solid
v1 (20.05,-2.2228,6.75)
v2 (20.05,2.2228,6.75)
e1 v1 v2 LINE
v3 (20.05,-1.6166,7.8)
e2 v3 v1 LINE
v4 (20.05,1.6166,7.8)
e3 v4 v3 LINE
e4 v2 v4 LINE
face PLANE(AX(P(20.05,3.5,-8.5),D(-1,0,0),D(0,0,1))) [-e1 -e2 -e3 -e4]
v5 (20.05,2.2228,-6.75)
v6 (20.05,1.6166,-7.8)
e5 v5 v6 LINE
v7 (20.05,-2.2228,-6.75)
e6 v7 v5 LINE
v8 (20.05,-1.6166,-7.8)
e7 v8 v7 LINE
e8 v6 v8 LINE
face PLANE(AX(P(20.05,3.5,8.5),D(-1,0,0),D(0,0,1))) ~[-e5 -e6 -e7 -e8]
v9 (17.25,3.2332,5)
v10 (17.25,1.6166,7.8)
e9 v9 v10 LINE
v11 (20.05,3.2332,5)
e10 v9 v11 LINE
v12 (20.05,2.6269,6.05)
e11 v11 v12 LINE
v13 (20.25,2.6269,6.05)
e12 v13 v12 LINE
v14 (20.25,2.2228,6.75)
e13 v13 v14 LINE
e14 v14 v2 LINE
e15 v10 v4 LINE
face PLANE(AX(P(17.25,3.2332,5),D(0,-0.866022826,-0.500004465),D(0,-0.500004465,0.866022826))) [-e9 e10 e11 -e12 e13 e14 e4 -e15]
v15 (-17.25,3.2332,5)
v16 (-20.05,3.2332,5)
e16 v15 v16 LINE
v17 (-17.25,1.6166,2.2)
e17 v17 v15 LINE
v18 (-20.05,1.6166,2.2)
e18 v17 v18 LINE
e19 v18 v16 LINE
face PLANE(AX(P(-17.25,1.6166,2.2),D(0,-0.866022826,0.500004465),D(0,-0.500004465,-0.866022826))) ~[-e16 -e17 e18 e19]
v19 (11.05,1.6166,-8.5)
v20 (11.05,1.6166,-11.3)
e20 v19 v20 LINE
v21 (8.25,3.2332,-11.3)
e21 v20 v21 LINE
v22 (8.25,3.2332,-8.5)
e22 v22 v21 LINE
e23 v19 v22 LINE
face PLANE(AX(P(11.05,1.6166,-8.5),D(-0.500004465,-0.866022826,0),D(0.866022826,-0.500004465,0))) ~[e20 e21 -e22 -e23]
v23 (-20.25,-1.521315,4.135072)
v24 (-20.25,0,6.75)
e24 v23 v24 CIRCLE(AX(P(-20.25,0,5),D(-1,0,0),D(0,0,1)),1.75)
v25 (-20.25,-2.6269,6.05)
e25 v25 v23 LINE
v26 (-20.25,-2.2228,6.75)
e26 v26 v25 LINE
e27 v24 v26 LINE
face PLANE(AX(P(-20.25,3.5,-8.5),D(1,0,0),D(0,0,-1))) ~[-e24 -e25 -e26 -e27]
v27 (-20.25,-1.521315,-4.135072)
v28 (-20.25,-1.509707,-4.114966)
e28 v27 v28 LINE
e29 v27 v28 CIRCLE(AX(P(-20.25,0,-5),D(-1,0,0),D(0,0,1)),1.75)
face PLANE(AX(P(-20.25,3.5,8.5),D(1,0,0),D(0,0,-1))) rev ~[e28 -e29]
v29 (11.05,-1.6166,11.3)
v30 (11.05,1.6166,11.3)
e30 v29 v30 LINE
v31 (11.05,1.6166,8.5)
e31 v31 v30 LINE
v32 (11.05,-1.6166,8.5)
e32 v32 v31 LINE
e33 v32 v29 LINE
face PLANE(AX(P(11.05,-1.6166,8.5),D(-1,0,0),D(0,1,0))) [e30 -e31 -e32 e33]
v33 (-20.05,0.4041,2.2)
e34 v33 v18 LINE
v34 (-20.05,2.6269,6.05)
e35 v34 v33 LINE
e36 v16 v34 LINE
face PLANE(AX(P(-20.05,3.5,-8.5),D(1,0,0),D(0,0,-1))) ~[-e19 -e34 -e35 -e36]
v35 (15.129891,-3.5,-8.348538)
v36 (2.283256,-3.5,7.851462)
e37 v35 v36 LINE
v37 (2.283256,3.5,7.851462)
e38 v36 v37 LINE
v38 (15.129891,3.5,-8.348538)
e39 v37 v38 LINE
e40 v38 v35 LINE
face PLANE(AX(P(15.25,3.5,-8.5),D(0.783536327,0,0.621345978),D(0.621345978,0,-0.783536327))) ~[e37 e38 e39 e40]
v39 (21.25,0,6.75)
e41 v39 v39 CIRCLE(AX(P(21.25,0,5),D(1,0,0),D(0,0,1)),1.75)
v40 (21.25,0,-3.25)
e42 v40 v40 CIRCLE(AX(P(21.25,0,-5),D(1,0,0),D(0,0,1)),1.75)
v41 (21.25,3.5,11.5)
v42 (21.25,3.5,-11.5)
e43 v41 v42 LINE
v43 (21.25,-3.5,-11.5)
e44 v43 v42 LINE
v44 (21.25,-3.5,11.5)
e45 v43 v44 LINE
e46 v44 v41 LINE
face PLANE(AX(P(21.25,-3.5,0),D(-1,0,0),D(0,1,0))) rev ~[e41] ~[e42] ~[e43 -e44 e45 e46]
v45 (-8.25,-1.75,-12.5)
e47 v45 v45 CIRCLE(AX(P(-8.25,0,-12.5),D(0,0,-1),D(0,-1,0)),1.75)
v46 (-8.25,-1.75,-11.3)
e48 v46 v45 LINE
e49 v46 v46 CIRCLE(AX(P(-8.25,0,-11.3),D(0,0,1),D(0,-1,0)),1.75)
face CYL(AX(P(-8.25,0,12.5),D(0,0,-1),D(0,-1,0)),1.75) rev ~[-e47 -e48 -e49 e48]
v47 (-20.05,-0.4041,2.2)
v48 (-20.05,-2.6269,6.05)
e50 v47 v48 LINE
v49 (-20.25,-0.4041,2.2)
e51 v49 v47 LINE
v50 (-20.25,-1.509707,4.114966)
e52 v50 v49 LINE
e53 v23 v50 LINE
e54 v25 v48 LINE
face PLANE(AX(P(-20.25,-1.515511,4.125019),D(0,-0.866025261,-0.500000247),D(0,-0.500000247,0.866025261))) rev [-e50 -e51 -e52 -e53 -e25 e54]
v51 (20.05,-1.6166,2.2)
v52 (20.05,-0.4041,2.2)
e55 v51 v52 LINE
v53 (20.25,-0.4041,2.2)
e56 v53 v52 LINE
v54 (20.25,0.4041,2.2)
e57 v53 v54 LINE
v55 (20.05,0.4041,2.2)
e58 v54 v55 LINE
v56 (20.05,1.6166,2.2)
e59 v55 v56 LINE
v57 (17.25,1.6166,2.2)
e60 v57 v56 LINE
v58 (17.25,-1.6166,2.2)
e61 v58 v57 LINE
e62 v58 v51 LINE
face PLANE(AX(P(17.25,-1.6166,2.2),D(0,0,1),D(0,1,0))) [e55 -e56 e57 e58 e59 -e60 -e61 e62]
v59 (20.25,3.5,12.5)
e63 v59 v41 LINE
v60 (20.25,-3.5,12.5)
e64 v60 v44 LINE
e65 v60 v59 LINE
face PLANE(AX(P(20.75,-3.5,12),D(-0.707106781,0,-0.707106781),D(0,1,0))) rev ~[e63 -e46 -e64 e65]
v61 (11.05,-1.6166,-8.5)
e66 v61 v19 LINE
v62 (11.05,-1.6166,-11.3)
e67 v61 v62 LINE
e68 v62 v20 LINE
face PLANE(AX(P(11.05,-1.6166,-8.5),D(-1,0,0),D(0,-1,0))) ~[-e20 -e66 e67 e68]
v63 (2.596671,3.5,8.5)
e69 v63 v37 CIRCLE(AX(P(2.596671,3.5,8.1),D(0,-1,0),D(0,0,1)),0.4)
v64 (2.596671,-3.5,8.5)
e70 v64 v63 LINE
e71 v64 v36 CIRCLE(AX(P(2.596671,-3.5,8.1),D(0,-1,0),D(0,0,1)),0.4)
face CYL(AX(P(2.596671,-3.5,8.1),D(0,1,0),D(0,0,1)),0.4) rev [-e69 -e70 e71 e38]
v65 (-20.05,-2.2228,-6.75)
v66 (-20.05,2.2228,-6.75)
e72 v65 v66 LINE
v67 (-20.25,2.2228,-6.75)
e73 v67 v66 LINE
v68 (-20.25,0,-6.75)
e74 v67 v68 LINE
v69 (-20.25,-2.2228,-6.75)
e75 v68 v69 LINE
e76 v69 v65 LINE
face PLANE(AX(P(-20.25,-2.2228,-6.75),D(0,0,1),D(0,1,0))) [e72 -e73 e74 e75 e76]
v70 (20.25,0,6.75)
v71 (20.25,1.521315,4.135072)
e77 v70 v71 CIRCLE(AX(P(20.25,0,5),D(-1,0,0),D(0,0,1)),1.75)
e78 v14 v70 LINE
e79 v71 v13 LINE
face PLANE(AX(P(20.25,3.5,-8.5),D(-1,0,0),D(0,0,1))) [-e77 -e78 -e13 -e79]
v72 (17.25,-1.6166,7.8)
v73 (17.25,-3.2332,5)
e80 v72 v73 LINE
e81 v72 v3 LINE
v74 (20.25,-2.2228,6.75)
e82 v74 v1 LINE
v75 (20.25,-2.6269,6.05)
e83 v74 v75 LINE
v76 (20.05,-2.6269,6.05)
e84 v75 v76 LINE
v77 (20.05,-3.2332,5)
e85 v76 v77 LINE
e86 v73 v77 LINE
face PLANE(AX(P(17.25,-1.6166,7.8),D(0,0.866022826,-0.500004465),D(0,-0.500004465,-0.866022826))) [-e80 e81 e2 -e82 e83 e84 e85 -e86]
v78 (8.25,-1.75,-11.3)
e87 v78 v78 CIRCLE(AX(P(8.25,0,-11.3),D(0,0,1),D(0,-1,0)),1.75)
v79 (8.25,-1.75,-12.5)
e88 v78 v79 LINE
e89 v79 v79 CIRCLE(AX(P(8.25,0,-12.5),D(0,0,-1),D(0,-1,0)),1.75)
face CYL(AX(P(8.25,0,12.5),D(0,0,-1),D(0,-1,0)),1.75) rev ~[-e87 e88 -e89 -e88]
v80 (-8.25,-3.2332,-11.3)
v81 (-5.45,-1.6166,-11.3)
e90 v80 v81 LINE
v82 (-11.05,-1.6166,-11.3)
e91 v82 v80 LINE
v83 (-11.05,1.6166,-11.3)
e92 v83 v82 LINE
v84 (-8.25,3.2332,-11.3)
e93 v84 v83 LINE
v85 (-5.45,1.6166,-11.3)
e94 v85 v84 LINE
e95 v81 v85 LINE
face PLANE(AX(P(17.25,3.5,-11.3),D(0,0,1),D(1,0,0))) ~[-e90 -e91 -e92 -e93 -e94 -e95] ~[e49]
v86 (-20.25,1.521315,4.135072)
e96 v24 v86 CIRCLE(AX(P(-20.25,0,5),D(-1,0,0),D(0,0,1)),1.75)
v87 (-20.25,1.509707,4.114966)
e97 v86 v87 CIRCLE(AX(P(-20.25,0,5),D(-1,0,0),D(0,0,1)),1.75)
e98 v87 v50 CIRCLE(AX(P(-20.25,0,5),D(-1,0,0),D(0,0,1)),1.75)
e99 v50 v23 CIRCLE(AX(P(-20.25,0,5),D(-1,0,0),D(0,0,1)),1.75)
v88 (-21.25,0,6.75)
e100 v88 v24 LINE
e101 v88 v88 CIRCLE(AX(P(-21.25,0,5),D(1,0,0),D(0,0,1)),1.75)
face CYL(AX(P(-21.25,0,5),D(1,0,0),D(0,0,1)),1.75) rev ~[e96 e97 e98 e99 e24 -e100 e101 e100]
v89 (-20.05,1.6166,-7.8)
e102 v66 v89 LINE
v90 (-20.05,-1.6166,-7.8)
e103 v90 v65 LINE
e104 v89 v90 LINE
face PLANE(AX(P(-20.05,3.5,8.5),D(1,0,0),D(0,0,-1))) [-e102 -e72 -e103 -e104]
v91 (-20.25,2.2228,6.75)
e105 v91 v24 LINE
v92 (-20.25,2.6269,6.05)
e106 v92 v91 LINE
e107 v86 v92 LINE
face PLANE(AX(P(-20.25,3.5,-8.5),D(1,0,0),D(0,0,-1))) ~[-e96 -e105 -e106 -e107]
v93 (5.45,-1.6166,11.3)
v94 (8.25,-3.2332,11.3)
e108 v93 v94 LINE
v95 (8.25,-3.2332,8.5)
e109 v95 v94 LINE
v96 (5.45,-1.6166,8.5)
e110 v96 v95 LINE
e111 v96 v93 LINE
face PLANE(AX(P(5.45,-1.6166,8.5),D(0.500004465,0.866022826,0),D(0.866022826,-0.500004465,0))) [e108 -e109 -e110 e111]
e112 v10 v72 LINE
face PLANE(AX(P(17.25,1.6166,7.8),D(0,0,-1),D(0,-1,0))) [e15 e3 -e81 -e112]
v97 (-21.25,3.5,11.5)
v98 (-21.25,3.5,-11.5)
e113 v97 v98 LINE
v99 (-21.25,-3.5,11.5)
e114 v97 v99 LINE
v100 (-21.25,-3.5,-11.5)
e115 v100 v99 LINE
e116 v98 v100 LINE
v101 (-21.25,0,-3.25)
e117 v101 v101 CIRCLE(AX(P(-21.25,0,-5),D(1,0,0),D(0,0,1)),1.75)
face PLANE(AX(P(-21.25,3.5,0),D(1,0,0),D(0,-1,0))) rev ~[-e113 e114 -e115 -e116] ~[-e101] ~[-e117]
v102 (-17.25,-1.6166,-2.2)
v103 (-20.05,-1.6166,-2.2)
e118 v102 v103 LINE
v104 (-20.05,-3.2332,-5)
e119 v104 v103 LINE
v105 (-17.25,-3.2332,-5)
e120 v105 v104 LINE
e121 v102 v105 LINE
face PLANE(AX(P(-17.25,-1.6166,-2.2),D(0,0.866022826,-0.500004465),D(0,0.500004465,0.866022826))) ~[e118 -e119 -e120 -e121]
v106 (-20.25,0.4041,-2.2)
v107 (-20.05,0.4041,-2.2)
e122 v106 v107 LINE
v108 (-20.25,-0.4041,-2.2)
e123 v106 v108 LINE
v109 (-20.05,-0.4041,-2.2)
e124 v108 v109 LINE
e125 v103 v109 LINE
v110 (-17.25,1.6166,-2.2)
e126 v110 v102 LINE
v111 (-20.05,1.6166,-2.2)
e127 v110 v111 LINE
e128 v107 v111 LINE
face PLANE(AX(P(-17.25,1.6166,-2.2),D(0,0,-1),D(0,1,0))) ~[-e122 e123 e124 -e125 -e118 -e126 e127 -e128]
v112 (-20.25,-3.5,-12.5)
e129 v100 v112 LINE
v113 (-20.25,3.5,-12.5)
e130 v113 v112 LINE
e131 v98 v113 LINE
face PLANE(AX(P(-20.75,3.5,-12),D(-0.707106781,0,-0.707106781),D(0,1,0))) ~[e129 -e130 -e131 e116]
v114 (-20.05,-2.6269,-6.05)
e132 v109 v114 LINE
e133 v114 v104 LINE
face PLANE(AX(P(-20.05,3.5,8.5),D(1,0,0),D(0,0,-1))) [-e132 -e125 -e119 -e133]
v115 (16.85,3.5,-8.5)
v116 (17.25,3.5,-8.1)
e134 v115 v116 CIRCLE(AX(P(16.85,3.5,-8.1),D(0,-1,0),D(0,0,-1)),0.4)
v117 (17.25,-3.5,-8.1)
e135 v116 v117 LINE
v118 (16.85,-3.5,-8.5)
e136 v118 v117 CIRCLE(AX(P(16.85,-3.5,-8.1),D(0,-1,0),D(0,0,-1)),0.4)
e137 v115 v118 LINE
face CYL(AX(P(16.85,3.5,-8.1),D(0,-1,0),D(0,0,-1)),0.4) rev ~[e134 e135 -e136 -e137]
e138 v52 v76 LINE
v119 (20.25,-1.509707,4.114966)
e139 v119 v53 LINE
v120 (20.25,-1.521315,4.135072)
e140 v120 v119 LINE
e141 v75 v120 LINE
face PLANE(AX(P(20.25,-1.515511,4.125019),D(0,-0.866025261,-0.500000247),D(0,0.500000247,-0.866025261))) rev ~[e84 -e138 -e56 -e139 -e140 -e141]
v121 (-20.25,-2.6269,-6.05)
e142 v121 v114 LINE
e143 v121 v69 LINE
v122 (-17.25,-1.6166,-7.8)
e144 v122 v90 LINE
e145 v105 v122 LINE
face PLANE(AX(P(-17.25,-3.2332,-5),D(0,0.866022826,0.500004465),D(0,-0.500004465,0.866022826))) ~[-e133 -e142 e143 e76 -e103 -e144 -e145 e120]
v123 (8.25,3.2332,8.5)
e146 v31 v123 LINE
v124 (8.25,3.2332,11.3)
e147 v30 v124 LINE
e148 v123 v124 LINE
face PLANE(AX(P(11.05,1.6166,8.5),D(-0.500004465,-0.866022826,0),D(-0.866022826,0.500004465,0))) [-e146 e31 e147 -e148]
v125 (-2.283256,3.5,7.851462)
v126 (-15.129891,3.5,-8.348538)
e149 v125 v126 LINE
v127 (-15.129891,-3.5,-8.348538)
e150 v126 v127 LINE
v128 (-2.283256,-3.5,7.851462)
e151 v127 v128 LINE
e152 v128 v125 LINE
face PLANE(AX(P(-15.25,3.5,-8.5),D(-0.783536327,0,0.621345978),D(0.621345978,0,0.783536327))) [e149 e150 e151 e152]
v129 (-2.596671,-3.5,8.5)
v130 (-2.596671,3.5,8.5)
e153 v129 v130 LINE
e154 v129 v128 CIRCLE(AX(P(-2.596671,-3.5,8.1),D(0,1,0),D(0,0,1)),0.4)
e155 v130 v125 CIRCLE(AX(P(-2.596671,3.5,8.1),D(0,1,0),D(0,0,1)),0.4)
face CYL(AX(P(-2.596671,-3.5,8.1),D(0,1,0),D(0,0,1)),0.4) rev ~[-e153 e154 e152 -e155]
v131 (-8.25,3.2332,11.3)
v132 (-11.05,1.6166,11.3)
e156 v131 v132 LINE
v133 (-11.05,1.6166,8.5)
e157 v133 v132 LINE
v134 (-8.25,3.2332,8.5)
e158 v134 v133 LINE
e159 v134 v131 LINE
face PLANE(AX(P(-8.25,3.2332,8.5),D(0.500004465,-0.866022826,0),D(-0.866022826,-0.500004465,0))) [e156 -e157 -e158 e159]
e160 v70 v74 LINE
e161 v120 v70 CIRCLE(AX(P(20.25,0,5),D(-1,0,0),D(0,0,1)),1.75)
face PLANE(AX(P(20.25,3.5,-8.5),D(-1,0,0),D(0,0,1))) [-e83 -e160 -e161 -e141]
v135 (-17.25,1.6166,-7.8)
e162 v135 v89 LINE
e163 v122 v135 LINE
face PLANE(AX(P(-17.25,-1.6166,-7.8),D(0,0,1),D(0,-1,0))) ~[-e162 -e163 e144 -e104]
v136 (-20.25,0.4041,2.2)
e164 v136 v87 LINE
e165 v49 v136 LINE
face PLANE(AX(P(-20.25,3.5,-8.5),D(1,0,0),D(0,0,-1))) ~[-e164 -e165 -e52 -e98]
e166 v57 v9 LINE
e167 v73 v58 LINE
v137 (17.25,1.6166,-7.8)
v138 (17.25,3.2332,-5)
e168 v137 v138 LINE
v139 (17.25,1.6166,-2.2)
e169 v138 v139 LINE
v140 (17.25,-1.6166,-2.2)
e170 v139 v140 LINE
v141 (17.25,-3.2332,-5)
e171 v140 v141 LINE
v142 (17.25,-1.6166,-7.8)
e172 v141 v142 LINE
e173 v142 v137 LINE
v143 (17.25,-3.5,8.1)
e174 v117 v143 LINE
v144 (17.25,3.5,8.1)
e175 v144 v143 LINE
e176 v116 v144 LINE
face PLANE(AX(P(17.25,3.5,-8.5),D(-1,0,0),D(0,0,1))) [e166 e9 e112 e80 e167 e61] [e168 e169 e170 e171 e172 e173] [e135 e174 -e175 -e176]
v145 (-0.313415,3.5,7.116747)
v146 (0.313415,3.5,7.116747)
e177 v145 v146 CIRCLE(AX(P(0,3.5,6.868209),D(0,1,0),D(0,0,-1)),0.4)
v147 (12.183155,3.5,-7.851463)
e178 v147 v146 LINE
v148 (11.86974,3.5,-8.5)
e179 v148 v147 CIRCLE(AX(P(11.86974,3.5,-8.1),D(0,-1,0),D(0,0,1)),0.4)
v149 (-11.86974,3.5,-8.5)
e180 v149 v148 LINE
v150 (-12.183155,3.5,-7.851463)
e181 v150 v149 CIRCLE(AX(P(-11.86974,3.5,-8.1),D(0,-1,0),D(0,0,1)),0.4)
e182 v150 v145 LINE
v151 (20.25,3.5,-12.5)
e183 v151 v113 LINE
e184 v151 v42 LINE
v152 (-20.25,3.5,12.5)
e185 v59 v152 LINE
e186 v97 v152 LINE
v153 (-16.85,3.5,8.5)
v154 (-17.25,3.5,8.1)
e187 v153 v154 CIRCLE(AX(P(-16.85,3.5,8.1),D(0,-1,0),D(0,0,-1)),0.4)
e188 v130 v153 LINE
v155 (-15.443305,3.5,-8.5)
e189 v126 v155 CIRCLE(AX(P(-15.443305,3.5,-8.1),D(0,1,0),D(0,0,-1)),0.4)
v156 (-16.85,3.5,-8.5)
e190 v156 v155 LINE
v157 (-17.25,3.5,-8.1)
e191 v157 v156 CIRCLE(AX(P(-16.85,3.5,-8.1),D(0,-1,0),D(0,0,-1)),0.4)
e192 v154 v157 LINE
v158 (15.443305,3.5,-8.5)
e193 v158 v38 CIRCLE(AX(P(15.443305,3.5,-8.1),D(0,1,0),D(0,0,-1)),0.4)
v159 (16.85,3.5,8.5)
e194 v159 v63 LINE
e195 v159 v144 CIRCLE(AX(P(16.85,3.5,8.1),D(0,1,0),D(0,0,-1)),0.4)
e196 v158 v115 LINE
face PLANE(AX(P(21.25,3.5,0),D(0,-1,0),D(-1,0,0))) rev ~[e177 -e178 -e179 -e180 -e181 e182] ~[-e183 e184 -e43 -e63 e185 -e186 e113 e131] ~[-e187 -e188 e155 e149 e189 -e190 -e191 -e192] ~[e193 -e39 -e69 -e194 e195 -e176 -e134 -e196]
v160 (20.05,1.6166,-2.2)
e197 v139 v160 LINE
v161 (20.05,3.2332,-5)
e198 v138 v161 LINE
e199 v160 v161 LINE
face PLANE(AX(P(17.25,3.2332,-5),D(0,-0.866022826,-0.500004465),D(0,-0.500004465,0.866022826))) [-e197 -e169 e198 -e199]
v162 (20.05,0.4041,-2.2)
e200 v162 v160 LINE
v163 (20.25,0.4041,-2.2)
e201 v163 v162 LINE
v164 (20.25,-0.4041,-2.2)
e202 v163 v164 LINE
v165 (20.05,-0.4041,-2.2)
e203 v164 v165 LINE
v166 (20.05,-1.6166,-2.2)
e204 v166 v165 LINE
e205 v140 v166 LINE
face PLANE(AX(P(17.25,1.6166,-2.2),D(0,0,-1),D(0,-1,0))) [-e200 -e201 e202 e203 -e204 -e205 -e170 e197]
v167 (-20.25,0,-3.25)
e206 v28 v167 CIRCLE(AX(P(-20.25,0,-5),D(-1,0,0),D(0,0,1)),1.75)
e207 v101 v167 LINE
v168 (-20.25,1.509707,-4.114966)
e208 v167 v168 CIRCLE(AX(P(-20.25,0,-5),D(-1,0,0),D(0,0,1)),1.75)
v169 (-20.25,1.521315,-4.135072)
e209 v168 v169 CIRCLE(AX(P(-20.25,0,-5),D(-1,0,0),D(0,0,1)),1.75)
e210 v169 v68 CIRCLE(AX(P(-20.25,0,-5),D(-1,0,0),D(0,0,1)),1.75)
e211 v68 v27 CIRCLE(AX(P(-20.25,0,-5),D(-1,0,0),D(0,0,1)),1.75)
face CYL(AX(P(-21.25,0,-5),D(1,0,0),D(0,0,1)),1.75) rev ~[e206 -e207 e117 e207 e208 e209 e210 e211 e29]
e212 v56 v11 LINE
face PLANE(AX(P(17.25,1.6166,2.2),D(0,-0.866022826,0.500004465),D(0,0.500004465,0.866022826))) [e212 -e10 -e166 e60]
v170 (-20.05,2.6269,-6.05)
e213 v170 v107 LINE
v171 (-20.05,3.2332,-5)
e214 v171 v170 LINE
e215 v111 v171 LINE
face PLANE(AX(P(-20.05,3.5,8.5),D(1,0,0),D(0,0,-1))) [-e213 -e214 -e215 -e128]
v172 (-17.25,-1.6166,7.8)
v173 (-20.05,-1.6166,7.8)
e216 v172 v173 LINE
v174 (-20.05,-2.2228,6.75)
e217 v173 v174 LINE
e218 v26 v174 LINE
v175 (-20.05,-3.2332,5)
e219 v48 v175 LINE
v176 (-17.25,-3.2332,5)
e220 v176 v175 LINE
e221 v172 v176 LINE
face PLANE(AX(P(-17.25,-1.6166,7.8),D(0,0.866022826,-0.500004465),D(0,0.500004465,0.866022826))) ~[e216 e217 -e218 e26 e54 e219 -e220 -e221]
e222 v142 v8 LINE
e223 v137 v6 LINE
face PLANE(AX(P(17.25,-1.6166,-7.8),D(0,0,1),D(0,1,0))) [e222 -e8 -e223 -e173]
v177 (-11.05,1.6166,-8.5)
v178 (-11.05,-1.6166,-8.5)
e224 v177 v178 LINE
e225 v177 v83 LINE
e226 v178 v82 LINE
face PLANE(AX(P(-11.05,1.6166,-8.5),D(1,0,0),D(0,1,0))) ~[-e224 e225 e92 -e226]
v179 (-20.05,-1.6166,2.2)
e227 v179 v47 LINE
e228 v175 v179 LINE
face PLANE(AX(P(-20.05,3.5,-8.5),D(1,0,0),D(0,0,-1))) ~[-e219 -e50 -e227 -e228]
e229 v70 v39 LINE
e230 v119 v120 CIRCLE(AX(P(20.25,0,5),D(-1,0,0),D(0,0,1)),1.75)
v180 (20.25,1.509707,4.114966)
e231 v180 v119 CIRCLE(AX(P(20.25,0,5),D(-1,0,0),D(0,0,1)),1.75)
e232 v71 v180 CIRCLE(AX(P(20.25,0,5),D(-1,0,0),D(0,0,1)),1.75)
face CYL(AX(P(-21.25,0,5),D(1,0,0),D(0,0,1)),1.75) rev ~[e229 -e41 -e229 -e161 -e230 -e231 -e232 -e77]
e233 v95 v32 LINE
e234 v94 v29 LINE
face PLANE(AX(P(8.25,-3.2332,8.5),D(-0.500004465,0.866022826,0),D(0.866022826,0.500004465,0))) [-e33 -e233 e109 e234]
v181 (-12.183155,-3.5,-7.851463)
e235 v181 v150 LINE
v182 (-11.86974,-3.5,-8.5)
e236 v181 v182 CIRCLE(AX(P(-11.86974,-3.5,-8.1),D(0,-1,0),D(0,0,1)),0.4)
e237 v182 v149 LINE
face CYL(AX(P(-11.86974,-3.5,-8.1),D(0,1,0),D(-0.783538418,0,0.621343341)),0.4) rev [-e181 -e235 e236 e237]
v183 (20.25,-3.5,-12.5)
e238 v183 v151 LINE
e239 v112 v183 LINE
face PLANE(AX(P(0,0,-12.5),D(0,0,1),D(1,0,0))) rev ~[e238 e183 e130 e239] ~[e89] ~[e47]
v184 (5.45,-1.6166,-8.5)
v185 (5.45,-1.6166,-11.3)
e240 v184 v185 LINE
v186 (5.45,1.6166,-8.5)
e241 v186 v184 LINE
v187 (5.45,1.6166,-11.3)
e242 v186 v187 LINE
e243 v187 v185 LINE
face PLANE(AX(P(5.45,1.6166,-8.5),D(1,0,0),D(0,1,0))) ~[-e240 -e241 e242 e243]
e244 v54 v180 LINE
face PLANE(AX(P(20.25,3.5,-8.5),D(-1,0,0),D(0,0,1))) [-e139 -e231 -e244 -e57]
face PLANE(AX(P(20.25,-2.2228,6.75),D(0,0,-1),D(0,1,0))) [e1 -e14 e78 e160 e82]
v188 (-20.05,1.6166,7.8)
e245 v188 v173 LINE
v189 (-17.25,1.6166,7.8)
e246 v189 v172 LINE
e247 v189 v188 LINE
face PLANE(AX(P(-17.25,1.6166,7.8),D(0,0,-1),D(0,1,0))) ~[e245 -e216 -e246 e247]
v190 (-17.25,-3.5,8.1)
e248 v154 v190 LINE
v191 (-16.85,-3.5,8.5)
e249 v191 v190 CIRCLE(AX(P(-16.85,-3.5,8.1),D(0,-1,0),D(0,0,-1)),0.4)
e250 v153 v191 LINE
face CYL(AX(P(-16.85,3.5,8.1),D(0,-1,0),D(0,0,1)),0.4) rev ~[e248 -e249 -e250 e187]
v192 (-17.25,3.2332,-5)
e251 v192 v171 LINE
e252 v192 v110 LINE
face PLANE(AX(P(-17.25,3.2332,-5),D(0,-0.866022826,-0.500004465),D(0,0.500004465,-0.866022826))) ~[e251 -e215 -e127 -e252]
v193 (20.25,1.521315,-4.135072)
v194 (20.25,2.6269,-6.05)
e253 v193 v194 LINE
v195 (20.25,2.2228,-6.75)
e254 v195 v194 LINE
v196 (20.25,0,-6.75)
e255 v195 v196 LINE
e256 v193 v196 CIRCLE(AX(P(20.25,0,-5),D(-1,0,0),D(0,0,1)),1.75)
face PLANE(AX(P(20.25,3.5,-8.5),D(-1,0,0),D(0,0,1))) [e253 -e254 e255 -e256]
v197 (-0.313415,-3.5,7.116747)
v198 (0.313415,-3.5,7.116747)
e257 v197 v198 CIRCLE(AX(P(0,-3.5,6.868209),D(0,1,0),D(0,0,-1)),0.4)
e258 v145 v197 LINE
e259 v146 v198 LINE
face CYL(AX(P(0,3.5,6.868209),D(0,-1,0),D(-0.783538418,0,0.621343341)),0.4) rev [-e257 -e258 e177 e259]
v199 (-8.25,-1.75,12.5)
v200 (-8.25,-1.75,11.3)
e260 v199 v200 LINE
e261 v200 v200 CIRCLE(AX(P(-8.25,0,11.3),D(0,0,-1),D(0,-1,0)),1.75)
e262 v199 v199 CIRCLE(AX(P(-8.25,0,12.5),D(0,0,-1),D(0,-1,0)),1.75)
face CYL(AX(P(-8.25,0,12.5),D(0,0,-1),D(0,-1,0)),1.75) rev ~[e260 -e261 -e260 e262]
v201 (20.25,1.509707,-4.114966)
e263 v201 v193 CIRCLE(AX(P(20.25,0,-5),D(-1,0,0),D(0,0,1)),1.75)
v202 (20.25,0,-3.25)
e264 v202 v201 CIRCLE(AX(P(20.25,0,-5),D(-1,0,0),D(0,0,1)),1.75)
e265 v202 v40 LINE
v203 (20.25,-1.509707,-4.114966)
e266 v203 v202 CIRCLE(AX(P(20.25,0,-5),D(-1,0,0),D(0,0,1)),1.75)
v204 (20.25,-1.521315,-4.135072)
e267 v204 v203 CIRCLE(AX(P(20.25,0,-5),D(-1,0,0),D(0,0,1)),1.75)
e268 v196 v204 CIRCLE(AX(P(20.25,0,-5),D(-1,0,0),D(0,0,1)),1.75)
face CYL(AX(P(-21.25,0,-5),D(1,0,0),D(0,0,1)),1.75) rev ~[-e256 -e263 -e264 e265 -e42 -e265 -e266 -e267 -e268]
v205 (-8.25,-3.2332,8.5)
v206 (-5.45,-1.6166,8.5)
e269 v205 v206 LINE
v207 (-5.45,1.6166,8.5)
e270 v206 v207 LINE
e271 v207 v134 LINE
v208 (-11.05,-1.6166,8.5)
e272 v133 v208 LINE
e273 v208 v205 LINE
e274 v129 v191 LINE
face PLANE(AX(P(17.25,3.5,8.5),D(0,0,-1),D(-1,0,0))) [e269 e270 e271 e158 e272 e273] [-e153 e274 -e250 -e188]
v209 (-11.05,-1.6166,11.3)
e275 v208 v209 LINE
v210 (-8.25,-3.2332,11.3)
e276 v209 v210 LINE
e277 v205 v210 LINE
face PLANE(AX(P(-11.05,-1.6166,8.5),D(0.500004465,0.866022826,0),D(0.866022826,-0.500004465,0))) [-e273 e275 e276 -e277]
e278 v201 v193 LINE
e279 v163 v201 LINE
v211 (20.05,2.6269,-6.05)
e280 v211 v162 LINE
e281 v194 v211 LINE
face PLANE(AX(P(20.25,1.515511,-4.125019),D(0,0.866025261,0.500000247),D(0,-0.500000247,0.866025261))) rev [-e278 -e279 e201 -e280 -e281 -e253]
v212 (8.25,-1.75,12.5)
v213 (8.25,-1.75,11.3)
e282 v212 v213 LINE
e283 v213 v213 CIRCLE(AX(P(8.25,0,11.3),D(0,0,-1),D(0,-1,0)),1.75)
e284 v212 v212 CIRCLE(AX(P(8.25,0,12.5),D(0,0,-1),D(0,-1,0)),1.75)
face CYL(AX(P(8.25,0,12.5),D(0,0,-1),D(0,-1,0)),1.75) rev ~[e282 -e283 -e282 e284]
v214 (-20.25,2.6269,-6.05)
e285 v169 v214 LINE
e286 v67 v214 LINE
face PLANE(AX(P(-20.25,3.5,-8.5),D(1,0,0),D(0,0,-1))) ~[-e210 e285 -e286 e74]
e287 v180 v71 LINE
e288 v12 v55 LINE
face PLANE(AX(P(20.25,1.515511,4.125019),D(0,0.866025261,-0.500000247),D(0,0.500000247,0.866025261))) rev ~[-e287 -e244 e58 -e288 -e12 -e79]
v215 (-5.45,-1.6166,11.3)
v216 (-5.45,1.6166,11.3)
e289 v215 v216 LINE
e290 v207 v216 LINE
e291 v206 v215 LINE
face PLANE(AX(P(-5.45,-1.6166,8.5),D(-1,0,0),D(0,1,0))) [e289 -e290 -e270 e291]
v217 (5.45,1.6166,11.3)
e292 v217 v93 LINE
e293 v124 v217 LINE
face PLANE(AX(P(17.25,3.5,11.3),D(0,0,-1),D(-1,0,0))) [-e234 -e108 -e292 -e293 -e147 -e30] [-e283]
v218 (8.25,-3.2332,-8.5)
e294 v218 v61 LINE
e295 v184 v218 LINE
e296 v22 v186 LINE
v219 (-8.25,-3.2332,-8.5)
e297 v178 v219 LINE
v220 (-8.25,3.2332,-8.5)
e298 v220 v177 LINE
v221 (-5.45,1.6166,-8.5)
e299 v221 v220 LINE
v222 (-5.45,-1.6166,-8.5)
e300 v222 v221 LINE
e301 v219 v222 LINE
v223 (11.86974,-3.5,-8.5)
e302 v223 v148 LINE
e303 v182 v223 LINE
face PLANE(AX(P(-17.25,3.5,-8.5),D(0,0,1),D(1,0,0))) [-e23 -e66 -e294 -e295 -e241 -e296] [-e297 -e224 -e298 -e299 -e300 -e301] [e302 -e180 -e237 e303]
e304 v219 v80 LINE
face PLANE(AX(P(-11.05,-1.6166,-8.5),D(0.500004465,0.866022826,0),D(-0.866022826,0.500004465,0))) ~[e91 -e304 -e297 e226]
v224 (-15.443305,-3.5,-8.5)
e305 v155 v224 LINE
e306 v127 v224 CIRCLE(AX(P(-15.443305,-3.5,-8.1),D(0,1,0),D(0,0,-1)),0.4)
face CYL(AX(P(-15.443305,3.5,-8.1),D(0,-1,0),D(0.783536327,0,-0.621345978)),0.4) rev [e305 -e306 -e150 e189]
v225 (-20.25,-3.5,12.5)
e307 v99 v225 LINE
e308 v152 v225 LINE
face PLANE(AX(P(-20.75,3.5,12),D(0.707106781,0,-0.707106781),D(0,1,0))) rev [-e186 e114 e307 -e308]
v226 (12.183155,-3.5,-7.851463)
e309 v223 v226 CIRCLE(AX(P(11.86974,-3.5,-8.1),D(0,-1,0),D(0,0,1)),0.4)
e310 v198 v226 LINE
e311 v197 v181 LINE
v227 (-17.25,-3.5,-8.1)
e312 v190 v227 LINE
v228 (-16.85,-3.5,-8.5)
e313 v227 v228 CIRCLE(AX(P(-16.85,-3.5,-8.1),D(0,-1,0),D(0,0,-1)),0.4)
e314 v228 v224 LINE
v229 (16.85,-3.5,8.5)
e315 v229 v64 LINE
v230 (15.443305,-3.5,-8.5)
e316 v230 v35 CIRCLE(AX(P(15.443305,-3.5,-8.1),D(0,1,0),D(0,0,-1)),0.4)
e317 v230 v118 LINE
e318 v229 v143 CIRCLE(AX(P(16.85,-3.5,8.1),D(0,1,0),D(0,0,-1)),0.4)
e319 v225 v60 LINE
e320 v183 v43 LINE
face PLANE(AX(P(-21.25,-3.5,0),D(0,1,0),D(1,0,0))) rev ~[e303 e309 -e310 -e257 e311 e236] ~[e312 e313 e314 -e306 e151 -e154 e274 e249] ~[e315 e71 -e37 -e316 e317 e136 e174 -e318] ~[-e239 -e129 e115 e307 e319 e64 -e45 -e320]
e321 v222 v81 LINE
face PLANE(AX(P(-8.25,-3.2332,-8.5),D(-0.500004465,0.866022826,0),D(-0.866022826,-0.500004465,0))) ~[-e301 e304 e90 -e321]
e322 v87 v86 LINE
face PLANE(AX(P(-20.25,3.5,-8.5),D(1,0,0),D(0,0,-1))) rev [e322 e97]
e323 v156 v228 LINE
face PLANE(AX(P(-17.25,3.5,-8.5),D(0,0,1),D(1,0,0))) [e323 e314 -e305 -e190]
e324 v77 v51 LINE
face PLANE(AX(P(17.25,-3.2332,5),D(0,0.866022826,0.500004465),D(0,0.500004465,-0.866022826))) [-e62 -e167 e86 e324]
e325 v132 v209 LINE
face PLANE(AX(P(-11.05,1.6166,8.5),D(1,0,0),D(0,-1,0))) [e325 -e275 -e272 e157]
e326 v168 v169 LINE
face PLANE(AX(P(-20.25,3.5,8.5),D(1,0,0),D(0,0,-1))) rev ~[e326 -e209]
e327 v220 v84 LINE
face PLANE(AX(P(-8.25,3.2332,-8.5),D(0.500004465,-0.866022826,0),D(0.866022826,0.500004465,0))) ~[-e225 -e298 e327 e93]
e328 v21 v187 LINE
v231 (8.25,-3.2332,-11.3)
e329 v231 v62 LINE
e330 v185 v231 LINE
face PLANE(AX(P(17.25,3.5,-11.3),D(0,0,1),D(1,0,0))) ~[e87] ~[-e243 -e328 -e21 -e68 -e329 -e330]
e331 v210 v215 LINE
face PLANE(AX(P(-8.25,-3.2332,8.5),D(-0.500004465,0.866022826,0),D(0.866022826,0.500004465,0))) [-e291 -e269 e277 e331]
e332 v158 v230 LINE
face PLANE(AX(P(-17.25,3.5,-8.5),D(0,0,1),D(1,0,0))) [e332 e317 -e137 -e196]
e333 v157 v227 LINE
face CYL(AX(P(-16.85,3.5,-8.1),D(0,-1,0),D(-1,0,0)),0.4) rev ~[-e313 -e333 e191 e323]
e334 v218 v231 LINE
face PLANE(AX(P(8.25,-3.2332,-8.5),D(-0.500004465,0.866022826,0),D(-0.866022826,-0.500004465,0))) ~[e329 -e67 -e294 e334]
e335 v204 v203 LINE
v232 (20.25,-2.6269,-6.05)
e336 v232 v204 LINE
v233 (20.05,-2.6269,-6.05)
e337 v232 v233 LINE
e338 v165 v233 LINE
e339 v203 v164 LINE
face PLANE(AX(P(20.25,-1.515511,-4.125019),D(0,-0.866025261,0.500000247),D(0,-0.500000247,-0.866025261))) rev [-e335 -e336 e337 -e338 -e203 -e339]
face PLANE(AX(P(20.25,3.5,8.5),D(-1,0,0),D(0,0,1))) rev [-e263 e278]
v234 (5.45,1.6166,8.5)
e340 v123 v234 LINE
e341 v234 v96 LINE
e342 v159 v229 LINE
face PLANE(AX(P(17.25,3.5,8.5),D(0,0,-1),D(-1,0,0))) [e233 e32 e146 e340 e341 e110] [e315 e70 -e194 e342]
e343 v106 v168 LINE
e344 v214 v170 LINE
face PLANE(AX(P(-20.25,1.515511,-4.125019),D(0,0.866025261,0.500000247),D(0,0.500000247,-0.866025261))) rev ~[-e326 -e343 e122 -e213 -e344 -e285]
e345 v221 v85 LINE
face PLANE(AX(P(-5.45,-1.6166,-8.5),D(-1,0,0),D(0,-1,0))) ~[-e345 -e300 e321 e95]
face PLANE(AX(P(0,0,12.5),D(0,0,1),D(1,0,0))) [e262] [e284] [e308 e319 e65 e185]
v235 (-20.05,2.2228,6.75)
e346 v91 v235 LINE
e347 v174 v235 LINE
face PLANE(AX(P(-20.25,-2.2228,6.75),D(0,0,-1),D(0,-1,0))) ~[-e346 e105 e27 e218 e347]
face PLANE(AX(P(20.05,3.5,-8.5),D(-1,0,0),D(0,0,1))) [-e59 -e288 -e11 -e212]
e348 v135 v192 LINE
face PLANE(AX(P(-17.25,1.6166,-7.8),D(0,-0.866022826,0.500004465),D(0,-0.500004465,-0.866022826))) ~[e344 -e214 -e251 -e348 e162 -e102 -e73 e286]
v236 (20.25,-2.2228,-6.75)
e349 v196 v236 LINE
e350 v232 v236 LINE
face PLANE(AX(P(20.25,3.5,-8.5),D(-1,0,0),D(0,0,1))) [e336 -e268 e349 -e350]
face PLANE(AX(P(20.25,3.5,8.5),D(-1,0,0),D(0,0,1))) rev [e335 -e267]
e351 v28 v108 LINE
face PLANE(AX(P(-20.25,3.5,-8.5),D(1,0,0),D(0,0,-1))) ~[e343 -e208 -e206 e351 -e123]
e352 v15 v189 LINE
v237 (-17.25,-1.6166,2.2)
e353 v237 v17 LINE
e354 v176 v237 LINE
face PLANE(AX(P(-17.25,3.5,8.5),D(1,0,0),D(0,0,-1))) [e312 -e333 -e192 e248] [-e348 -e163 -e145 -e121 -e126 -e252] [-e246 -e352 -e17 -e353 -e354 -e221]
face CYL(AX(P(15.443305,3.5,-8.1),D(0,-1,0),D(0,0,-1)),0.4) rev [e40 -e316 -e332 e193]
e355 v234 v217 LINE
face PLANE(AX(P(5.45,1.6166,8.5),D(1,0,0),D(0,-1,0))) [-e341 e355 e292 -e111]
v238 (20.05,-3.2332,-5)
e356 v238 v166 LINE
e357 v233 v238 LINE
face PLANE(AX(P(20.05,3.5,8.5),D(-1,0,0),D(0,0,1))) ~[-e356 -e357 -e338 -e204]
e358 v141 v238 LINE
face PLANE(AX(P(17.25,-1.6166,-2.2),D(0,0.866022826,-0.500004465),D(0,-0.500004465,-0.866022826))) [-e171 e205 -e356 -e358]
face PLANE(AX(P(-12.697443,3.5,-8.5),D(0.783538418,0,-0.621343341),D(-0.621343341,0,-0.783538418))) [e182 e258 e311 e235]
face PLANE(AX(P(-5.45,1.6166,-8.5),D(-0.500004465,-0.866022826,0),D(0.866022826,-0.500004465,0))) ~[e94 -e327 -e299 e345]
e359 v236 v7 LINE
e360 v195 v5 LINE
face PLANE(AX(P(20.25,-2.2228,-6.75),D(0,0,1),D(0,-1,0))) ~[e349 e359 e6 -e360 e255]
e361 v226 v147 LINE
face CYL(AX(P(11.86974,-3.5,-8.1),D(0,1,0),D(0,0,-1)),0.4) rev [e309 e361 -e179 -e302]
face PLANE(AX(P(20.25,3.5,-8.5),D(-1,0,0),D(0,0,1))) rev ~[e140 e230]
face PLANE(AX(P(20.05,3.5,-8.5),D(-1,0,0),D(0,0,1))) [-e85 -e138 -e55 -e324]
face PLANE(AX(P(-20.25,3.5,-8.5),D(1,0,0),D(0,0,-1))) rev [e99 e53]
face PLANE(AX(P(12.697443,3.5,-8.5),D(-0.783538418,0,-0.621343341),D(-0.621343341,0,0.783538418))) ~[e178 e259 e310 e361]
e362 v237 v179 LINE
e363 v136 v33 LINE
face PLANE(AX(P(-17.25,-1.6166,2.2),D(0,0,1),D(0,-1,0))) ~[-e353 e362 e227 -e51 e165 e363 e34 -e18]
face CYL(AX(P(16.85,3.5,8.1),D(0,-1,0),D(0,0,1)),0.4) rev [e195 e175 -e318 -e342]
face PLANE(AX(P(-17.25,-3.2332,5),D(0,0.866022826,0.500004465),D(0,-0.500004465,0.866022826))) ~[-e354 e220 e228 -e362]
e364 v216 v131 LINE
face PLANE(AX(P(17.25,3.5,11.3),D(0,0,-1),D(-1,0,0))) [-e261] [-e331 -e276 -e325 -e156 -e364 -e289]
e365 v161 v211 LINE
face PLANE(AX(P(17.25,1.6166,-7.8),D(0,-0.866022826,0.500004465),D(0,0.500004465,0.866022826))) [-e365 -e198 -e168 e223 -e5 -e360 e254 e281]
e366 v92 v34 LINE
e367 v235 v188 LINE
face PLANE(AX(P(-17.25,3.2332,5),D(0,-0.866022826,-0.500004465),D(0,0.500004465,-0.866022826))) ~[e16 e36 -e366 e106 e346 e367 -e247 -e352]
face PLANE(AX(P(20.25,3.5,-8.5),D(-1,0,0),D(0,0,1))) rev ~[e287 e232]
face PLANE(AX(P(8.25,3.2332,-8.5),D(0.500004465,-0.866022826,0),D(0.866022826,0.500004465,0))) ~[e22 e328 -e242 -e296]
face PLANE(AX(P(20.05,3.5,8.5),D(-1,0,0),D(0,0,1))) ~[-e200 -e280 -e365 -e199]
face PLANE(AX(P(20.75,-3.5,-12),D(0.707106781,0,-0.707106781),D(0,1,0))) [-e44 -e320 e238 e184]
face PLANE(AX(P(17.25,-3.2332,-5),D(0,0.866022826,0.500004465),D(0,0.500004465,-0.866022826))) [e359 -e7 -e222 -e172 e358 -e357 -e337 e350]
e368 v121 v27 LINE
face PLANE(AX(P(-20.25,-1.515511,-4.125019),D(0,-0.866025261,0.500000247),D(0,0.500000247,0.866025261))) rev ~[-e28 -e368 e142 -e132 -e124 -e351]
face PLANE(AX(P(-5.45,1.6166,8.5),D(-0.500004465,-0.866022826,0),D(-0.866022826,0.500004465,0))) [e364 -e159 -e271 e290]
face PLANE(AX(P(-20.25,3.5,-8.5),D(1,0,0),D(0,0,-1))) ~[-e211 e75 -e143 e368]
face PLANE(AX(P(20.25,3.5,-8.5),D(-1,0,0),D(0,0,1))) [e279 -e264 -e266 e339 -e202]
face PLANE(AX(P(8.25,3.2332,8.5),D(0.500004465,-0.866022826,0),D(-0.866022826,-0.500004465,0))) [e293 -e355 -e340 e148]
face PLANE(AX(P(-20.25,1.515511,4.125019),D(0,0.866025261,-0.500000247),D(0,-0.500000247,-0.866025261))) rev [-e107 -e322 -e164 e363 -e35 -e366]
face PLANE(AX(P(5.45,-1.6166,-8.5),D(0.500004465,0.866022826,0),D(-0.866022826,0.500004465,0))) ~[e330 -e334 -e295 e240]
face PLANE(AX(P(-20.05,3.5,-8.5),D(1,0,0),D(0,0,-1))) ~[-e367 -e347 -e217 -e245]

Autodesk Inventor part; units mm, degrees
ref_plane "YZ Plane" through (0, 0, 0) normal (1, 0, 0) x (0, 1, 0)
ref_plane "XZ Plane" through (0, 0, 0) normal (0, 1, 0) x (-1, 0, 0)
ref_plane "XY Plane" through (0, 0, 0) normal (0, 0, 1) x (1, 0, 0)
sketch "スケッチ1" plane through (0, 0, 0) normal (0, 0, 1) x (1, 0, 0)
  line L0 (-21.25, -3.5) -> (21.25, -3.5)
  line L1 (21.25, -3.5) -> (21.25, 3.5)
  line L2 (21.25, 3.5) -> (-21.25, 3.5)
  line L3 (-21.25, 3.5) -> (-21.25, -3.5)
  line L4 (-21.25, -3.5) -> (21.25, 3.5) construction
  line L5 (21.25, -3.5) -> (-21.25, 3.5) construction
  point P0 (0, 0)
  dimension "d0" = 42.5
  dimension "d1" = 7
extrude "押し出し1" add sketch "スケッチ1" along normal mid plane 25
sketch "スケッチ2" plane through (0, 0, 12.5) normal (0, 0, 1) x (1, 0, 0)
  line L0 (-21.25, 3.5) -> (-21.25, -3.5) projected
  line L1 (21.25, -3.5) -> (21.25, 3.5) projected
  line L2 (-21.25, 0) -> (21.25, 0) construction
  point P0 (0, 0)
  point P1 (-8.25, 0)
  point P2 (8.25, 0)
  point P3 (0, 0)
  dimension "d4" = 16.5
  dimension "d5" = 8.25
hole "穴1" at (-8.25, 0, 12.5) at (8.25, 0, 12.5) direction (0, 0, -1) diameter 3.5 end through all
sketch "スケッチ3" plane through (-21.25, 3.5, 12.5) normal (0, 1, 0) x (1, 0, 0)
  line L0 (0, 25) -> (0, 0) projected
  line L1 (42.5, 25) -> (42.5, 0) projected
  line L2 (0, 12.5) -> (42.5, 12.5) construction
  line L3 (38.5, 4) -> (4, 4)
  line L4 (4, 4) -> (4, 21)
  line L5 (4, 21) -> (38.5, 21)
  line L6 (38.5, 21) -> (38.5, 4)
  line L7 (38.5, 4) -> (4, 21) construction
  line L8 (4, 4) -> (38.5, 21) construction
  line L9 (42.5, 0) -> (0, 0) projected
  point P0 (21.25, 12.5)
  dimension "d13" = 4
  dimension "d14" = 4
extrude "押し出し2" cut sketch "スケッチ3" against normal through all
sketch "スケッチ4" plane through (17.25, 3.5, 8.5) normal (0, 0, -1) x (-1, 0, 0)
  circle A0 centre (25.5, -3.5) radius 1.75 projected
  circle A1 centre (9, -3.5) radius 1.75 projected
  line L0 (25.5, -0.2668) -> (28.3, -1.8834)
  line L1 (28.3, -1.8834) -> (28.3, -5.1166)
  line L2 (28.3, -5.1166) -> (25.5, -6.7332)
  line L3 (25.5, -6.7332) -> (22.7, -5.1166)
  line L4 (22.7, -5.1166) -> (22.7, -1.8834)
  line L5 (22.7, -1.8834) -> (25.5, -0.2668)
  circle A2 centre (9, -3.5) radius 1.75 projected
  line L6 (9, -0.2668) -> (11.8, -1.8834)
  line L7 (11.8, -1.8834) -> (11.8, -5.1166)
  line L8 (11.8, -5.1166) -> (9, -6.7332)
  line L9 (9, -6.7332) -> (6.2, -5.1166)
  line L10 (6.2, -5.1166) -> (6.2, -1.8834)
  line L11 (6.2, -1.8834) -> (9, -0.2668)
  point P0 (17.25, -3.5)
  point P1 (22.7, -3.5)
  dimension "d17" = 5.6
  dimension "d18" = 5.6
extrude "押し出し3" cut sketch "スケッチ4" against normal blind 2.8
sketch "スケッチ5" plane through (-21.25, -3.5, 12.5) normal (-1, 0, 0) x (0, 0, 1)
  line L0 (0, 7) -> (0, 0) projected
  line L1 (-25, 0) -> (-25, 7) projected
  line L2 (0, 3.5) -> (-25, 3.5) construction
  point P0 (-12.5, 3.5)
  point P1 (-7.5, 3.5)
  point P2 (-17.5, 3.5)
  point P3 (-12.5, 3.5)
  dimension "d21" = 5
  dimension "d22" = 5
hole "穴2" at (-21.25, 0, 5) at (-21.25, 0, -5) direction (1, 0, 0) diameter 3.5 end through all
sketch "スケッチ6" plane through (17.25, 3.5, -8.5) normal (-1, 0, 0) x (0, 0, 1)
  circle A0 centre (13.5, -3.5) radius 1.75 projected
  circle A1 centre (3.5, -3.5) radius 1.75 projected
  circle A2 centre (13.5, -3.5) radius 1.75 projected
  line L0 (13.5, -6.7332) -> (10.7, -5.1166)
  line L1 (10.7, -5.1166) -> (10.7, -1.8834)
  line L2 (10.7, -1.8834) -> (13.5, -0.2668)
  line L3 (13.5, -0.2668) -> (16.3, -1.8834)
  line L4 (16.3, -1.8834) -> (16.3, -5.1166)
  line L5 (16.3, -5.1166) -> (13.5, -6.7332)
  line L6 (3.5, -6.7332) -> (0.7, -5.1166)
  line L7 (0.7, -5.1166) -> (0.7, -1.8834)
  line L8 (0.7, -1.8834) -> (3.5, -0.2668)
  line L9 (3.5, -0.2668) -> (6.3, -1.8834)
  line L10 (6.3, -1.8834) -> (6.3, -5.1166)
  line L11 (6.3, -5.1166) -> (3.5, -6.7332)
  point P0 (8.5, -3.5)
  dimension "d30" = 5.6
  dimension "d31" = 5.6
extrude "押し出し4" cut sketch "スケッチ6" against normal blind 3
sketch "スケッチ7" plane through (20.25, 3.5, -8.5) normal (-1, 0, 0) x (0, 0, 1)
  line L0 (16.3, -1.8834) -> (16.3, -5.1166) projected
  line L1 (13.5, -0.2668) -> (16.3, -1.8834) projected
  line L2 (10.7, -1.8834) -> (13.5, -0.2668) projected
  line L3 (10.7, -5.1166) -> (10.7, -1.8834) projected
  line L4 (13.5, -6.7332) -> (10.7, -5.1166) projected
  line L5 (16.3, -5.1166) -> (13.5, -6.7332) projected
  circle A0 centre (13.5, -3.5) radius 1.75 projected
  line L6 (6.3, -1.8834) -> (6.3, -5.1166) projected
  line L7 (3.5, -0.2668) -> (6.3, -1.8834) projected
  line L8 (0.7, -1.8834) -> (3.5, -0.2668) projected
  line L9 (0.7, -5.1166) -> (0.7, -1.8834) projected
  line L10 (3.5, -6.7332) -> (0.7, -5.1166) projected
  line L11 (6.3, -5.1166) -> (3.5, -6.7332) projected
  circle A1 centre (3.5, -3.5) radius 1.75 projected
  line L12 (15.25, -5.7228) -> (15.25, -1.2772)
  line L13 (14.55, -6.1269) -> (10.7, -3.9041)
  line L14 (10.7, -3.0959) -> (14.55, -0.8731)
  line L15 (13.5, -0.2668) -> (16.3, -1.8834) projected
  line L16 (10.7, -5.1166) -> (10.7, -1.8834) projected
  circle A2 centre (13.5, -3.5) radius 1.75 projected
  point P0 (8.5, -3.5)
extrude "押し出し5" add sketch "スケッチ7" along normal blind 0.2 contours L0 L5 L12 L1 | L14 L3 L2 L1 | L5 L4 L3 L13
mirror "ミラー1" about plane through (0, 0, 0) normal (0, 0, 1) of "押し出し3", "押し出し5"
mirror "ミラー2" about plane through (0, 0, 0) normal (1, 0, 0) of "押し出し4", "押し出し3", "押し出し5", "ミラー1"
chamfer "面取り1" distance 1 angle 45 4 edges at (-21.25, 0, 12.5) (21.25, 0, 12.5) (21.25, 0, -12.5) (-21.25, 0, -12.5)
sketch "スケッチ8" plane through (-20.25, 3.5, 12.5) normal (0, 1, 0) x (1, 0, 0)
  line L0 (3, 21) -> (37.5, 21) projected
  line L1 (37.5, 4) -> (3, 4) projected
  line L2 (3, 4) -> (3, 21) projected
  line L3 (5, 21) -> (19.4665, 2.7573)
  line L4 (19.4665, 2.7573) -> (21.0335, 4)
  line L5 (21.0335, 4) -> (6.5671, 22.2427)
  line L6 (6.5671, 22.2427) -> (5, 21)
  point P0 (20.25, 12.5)
  point P1 (20.25, 3.3787)
  point P2 (20.25, 4)
  point P3 (7.5525, 21)
  point P4 (18.481, 4)
  dimension "d40" = 2
  dimension "d47" = 2
extrude "押し出し6" add sketch "スケッチ8" against normal up to surface (7 mm away) contours L6 L5 L0 | L0 L5 L1 L3 | L1 L4 L3
mirror "ミラー3" about plane through (0, 0, 0) normal (1, 0, 0) of "押し出し6"
fillet "フィレット2" radius 0.4 11 edges at (-1.769, 0, 8.5) (0, 0, 7.5119) (1.769, 0, 8.5) (-17.25, 0, 8.5) (-12.6975, 0, -8.5) (12.6975, 0, -8.5) (17.25, 0, 8.5) (-17.25, 0, -8.5) (17.25, 0, -8.5) (-15.25, 0, -8.5) (15.25, 0, -8.5)
equation "\"d5\" = 0.5 * d4"
equation "\"d18\" = d17"
equation "\"d22\" = d21"
equation "\"d31\" = d30"
properties part number "3D_club-fix_3D プリント"
